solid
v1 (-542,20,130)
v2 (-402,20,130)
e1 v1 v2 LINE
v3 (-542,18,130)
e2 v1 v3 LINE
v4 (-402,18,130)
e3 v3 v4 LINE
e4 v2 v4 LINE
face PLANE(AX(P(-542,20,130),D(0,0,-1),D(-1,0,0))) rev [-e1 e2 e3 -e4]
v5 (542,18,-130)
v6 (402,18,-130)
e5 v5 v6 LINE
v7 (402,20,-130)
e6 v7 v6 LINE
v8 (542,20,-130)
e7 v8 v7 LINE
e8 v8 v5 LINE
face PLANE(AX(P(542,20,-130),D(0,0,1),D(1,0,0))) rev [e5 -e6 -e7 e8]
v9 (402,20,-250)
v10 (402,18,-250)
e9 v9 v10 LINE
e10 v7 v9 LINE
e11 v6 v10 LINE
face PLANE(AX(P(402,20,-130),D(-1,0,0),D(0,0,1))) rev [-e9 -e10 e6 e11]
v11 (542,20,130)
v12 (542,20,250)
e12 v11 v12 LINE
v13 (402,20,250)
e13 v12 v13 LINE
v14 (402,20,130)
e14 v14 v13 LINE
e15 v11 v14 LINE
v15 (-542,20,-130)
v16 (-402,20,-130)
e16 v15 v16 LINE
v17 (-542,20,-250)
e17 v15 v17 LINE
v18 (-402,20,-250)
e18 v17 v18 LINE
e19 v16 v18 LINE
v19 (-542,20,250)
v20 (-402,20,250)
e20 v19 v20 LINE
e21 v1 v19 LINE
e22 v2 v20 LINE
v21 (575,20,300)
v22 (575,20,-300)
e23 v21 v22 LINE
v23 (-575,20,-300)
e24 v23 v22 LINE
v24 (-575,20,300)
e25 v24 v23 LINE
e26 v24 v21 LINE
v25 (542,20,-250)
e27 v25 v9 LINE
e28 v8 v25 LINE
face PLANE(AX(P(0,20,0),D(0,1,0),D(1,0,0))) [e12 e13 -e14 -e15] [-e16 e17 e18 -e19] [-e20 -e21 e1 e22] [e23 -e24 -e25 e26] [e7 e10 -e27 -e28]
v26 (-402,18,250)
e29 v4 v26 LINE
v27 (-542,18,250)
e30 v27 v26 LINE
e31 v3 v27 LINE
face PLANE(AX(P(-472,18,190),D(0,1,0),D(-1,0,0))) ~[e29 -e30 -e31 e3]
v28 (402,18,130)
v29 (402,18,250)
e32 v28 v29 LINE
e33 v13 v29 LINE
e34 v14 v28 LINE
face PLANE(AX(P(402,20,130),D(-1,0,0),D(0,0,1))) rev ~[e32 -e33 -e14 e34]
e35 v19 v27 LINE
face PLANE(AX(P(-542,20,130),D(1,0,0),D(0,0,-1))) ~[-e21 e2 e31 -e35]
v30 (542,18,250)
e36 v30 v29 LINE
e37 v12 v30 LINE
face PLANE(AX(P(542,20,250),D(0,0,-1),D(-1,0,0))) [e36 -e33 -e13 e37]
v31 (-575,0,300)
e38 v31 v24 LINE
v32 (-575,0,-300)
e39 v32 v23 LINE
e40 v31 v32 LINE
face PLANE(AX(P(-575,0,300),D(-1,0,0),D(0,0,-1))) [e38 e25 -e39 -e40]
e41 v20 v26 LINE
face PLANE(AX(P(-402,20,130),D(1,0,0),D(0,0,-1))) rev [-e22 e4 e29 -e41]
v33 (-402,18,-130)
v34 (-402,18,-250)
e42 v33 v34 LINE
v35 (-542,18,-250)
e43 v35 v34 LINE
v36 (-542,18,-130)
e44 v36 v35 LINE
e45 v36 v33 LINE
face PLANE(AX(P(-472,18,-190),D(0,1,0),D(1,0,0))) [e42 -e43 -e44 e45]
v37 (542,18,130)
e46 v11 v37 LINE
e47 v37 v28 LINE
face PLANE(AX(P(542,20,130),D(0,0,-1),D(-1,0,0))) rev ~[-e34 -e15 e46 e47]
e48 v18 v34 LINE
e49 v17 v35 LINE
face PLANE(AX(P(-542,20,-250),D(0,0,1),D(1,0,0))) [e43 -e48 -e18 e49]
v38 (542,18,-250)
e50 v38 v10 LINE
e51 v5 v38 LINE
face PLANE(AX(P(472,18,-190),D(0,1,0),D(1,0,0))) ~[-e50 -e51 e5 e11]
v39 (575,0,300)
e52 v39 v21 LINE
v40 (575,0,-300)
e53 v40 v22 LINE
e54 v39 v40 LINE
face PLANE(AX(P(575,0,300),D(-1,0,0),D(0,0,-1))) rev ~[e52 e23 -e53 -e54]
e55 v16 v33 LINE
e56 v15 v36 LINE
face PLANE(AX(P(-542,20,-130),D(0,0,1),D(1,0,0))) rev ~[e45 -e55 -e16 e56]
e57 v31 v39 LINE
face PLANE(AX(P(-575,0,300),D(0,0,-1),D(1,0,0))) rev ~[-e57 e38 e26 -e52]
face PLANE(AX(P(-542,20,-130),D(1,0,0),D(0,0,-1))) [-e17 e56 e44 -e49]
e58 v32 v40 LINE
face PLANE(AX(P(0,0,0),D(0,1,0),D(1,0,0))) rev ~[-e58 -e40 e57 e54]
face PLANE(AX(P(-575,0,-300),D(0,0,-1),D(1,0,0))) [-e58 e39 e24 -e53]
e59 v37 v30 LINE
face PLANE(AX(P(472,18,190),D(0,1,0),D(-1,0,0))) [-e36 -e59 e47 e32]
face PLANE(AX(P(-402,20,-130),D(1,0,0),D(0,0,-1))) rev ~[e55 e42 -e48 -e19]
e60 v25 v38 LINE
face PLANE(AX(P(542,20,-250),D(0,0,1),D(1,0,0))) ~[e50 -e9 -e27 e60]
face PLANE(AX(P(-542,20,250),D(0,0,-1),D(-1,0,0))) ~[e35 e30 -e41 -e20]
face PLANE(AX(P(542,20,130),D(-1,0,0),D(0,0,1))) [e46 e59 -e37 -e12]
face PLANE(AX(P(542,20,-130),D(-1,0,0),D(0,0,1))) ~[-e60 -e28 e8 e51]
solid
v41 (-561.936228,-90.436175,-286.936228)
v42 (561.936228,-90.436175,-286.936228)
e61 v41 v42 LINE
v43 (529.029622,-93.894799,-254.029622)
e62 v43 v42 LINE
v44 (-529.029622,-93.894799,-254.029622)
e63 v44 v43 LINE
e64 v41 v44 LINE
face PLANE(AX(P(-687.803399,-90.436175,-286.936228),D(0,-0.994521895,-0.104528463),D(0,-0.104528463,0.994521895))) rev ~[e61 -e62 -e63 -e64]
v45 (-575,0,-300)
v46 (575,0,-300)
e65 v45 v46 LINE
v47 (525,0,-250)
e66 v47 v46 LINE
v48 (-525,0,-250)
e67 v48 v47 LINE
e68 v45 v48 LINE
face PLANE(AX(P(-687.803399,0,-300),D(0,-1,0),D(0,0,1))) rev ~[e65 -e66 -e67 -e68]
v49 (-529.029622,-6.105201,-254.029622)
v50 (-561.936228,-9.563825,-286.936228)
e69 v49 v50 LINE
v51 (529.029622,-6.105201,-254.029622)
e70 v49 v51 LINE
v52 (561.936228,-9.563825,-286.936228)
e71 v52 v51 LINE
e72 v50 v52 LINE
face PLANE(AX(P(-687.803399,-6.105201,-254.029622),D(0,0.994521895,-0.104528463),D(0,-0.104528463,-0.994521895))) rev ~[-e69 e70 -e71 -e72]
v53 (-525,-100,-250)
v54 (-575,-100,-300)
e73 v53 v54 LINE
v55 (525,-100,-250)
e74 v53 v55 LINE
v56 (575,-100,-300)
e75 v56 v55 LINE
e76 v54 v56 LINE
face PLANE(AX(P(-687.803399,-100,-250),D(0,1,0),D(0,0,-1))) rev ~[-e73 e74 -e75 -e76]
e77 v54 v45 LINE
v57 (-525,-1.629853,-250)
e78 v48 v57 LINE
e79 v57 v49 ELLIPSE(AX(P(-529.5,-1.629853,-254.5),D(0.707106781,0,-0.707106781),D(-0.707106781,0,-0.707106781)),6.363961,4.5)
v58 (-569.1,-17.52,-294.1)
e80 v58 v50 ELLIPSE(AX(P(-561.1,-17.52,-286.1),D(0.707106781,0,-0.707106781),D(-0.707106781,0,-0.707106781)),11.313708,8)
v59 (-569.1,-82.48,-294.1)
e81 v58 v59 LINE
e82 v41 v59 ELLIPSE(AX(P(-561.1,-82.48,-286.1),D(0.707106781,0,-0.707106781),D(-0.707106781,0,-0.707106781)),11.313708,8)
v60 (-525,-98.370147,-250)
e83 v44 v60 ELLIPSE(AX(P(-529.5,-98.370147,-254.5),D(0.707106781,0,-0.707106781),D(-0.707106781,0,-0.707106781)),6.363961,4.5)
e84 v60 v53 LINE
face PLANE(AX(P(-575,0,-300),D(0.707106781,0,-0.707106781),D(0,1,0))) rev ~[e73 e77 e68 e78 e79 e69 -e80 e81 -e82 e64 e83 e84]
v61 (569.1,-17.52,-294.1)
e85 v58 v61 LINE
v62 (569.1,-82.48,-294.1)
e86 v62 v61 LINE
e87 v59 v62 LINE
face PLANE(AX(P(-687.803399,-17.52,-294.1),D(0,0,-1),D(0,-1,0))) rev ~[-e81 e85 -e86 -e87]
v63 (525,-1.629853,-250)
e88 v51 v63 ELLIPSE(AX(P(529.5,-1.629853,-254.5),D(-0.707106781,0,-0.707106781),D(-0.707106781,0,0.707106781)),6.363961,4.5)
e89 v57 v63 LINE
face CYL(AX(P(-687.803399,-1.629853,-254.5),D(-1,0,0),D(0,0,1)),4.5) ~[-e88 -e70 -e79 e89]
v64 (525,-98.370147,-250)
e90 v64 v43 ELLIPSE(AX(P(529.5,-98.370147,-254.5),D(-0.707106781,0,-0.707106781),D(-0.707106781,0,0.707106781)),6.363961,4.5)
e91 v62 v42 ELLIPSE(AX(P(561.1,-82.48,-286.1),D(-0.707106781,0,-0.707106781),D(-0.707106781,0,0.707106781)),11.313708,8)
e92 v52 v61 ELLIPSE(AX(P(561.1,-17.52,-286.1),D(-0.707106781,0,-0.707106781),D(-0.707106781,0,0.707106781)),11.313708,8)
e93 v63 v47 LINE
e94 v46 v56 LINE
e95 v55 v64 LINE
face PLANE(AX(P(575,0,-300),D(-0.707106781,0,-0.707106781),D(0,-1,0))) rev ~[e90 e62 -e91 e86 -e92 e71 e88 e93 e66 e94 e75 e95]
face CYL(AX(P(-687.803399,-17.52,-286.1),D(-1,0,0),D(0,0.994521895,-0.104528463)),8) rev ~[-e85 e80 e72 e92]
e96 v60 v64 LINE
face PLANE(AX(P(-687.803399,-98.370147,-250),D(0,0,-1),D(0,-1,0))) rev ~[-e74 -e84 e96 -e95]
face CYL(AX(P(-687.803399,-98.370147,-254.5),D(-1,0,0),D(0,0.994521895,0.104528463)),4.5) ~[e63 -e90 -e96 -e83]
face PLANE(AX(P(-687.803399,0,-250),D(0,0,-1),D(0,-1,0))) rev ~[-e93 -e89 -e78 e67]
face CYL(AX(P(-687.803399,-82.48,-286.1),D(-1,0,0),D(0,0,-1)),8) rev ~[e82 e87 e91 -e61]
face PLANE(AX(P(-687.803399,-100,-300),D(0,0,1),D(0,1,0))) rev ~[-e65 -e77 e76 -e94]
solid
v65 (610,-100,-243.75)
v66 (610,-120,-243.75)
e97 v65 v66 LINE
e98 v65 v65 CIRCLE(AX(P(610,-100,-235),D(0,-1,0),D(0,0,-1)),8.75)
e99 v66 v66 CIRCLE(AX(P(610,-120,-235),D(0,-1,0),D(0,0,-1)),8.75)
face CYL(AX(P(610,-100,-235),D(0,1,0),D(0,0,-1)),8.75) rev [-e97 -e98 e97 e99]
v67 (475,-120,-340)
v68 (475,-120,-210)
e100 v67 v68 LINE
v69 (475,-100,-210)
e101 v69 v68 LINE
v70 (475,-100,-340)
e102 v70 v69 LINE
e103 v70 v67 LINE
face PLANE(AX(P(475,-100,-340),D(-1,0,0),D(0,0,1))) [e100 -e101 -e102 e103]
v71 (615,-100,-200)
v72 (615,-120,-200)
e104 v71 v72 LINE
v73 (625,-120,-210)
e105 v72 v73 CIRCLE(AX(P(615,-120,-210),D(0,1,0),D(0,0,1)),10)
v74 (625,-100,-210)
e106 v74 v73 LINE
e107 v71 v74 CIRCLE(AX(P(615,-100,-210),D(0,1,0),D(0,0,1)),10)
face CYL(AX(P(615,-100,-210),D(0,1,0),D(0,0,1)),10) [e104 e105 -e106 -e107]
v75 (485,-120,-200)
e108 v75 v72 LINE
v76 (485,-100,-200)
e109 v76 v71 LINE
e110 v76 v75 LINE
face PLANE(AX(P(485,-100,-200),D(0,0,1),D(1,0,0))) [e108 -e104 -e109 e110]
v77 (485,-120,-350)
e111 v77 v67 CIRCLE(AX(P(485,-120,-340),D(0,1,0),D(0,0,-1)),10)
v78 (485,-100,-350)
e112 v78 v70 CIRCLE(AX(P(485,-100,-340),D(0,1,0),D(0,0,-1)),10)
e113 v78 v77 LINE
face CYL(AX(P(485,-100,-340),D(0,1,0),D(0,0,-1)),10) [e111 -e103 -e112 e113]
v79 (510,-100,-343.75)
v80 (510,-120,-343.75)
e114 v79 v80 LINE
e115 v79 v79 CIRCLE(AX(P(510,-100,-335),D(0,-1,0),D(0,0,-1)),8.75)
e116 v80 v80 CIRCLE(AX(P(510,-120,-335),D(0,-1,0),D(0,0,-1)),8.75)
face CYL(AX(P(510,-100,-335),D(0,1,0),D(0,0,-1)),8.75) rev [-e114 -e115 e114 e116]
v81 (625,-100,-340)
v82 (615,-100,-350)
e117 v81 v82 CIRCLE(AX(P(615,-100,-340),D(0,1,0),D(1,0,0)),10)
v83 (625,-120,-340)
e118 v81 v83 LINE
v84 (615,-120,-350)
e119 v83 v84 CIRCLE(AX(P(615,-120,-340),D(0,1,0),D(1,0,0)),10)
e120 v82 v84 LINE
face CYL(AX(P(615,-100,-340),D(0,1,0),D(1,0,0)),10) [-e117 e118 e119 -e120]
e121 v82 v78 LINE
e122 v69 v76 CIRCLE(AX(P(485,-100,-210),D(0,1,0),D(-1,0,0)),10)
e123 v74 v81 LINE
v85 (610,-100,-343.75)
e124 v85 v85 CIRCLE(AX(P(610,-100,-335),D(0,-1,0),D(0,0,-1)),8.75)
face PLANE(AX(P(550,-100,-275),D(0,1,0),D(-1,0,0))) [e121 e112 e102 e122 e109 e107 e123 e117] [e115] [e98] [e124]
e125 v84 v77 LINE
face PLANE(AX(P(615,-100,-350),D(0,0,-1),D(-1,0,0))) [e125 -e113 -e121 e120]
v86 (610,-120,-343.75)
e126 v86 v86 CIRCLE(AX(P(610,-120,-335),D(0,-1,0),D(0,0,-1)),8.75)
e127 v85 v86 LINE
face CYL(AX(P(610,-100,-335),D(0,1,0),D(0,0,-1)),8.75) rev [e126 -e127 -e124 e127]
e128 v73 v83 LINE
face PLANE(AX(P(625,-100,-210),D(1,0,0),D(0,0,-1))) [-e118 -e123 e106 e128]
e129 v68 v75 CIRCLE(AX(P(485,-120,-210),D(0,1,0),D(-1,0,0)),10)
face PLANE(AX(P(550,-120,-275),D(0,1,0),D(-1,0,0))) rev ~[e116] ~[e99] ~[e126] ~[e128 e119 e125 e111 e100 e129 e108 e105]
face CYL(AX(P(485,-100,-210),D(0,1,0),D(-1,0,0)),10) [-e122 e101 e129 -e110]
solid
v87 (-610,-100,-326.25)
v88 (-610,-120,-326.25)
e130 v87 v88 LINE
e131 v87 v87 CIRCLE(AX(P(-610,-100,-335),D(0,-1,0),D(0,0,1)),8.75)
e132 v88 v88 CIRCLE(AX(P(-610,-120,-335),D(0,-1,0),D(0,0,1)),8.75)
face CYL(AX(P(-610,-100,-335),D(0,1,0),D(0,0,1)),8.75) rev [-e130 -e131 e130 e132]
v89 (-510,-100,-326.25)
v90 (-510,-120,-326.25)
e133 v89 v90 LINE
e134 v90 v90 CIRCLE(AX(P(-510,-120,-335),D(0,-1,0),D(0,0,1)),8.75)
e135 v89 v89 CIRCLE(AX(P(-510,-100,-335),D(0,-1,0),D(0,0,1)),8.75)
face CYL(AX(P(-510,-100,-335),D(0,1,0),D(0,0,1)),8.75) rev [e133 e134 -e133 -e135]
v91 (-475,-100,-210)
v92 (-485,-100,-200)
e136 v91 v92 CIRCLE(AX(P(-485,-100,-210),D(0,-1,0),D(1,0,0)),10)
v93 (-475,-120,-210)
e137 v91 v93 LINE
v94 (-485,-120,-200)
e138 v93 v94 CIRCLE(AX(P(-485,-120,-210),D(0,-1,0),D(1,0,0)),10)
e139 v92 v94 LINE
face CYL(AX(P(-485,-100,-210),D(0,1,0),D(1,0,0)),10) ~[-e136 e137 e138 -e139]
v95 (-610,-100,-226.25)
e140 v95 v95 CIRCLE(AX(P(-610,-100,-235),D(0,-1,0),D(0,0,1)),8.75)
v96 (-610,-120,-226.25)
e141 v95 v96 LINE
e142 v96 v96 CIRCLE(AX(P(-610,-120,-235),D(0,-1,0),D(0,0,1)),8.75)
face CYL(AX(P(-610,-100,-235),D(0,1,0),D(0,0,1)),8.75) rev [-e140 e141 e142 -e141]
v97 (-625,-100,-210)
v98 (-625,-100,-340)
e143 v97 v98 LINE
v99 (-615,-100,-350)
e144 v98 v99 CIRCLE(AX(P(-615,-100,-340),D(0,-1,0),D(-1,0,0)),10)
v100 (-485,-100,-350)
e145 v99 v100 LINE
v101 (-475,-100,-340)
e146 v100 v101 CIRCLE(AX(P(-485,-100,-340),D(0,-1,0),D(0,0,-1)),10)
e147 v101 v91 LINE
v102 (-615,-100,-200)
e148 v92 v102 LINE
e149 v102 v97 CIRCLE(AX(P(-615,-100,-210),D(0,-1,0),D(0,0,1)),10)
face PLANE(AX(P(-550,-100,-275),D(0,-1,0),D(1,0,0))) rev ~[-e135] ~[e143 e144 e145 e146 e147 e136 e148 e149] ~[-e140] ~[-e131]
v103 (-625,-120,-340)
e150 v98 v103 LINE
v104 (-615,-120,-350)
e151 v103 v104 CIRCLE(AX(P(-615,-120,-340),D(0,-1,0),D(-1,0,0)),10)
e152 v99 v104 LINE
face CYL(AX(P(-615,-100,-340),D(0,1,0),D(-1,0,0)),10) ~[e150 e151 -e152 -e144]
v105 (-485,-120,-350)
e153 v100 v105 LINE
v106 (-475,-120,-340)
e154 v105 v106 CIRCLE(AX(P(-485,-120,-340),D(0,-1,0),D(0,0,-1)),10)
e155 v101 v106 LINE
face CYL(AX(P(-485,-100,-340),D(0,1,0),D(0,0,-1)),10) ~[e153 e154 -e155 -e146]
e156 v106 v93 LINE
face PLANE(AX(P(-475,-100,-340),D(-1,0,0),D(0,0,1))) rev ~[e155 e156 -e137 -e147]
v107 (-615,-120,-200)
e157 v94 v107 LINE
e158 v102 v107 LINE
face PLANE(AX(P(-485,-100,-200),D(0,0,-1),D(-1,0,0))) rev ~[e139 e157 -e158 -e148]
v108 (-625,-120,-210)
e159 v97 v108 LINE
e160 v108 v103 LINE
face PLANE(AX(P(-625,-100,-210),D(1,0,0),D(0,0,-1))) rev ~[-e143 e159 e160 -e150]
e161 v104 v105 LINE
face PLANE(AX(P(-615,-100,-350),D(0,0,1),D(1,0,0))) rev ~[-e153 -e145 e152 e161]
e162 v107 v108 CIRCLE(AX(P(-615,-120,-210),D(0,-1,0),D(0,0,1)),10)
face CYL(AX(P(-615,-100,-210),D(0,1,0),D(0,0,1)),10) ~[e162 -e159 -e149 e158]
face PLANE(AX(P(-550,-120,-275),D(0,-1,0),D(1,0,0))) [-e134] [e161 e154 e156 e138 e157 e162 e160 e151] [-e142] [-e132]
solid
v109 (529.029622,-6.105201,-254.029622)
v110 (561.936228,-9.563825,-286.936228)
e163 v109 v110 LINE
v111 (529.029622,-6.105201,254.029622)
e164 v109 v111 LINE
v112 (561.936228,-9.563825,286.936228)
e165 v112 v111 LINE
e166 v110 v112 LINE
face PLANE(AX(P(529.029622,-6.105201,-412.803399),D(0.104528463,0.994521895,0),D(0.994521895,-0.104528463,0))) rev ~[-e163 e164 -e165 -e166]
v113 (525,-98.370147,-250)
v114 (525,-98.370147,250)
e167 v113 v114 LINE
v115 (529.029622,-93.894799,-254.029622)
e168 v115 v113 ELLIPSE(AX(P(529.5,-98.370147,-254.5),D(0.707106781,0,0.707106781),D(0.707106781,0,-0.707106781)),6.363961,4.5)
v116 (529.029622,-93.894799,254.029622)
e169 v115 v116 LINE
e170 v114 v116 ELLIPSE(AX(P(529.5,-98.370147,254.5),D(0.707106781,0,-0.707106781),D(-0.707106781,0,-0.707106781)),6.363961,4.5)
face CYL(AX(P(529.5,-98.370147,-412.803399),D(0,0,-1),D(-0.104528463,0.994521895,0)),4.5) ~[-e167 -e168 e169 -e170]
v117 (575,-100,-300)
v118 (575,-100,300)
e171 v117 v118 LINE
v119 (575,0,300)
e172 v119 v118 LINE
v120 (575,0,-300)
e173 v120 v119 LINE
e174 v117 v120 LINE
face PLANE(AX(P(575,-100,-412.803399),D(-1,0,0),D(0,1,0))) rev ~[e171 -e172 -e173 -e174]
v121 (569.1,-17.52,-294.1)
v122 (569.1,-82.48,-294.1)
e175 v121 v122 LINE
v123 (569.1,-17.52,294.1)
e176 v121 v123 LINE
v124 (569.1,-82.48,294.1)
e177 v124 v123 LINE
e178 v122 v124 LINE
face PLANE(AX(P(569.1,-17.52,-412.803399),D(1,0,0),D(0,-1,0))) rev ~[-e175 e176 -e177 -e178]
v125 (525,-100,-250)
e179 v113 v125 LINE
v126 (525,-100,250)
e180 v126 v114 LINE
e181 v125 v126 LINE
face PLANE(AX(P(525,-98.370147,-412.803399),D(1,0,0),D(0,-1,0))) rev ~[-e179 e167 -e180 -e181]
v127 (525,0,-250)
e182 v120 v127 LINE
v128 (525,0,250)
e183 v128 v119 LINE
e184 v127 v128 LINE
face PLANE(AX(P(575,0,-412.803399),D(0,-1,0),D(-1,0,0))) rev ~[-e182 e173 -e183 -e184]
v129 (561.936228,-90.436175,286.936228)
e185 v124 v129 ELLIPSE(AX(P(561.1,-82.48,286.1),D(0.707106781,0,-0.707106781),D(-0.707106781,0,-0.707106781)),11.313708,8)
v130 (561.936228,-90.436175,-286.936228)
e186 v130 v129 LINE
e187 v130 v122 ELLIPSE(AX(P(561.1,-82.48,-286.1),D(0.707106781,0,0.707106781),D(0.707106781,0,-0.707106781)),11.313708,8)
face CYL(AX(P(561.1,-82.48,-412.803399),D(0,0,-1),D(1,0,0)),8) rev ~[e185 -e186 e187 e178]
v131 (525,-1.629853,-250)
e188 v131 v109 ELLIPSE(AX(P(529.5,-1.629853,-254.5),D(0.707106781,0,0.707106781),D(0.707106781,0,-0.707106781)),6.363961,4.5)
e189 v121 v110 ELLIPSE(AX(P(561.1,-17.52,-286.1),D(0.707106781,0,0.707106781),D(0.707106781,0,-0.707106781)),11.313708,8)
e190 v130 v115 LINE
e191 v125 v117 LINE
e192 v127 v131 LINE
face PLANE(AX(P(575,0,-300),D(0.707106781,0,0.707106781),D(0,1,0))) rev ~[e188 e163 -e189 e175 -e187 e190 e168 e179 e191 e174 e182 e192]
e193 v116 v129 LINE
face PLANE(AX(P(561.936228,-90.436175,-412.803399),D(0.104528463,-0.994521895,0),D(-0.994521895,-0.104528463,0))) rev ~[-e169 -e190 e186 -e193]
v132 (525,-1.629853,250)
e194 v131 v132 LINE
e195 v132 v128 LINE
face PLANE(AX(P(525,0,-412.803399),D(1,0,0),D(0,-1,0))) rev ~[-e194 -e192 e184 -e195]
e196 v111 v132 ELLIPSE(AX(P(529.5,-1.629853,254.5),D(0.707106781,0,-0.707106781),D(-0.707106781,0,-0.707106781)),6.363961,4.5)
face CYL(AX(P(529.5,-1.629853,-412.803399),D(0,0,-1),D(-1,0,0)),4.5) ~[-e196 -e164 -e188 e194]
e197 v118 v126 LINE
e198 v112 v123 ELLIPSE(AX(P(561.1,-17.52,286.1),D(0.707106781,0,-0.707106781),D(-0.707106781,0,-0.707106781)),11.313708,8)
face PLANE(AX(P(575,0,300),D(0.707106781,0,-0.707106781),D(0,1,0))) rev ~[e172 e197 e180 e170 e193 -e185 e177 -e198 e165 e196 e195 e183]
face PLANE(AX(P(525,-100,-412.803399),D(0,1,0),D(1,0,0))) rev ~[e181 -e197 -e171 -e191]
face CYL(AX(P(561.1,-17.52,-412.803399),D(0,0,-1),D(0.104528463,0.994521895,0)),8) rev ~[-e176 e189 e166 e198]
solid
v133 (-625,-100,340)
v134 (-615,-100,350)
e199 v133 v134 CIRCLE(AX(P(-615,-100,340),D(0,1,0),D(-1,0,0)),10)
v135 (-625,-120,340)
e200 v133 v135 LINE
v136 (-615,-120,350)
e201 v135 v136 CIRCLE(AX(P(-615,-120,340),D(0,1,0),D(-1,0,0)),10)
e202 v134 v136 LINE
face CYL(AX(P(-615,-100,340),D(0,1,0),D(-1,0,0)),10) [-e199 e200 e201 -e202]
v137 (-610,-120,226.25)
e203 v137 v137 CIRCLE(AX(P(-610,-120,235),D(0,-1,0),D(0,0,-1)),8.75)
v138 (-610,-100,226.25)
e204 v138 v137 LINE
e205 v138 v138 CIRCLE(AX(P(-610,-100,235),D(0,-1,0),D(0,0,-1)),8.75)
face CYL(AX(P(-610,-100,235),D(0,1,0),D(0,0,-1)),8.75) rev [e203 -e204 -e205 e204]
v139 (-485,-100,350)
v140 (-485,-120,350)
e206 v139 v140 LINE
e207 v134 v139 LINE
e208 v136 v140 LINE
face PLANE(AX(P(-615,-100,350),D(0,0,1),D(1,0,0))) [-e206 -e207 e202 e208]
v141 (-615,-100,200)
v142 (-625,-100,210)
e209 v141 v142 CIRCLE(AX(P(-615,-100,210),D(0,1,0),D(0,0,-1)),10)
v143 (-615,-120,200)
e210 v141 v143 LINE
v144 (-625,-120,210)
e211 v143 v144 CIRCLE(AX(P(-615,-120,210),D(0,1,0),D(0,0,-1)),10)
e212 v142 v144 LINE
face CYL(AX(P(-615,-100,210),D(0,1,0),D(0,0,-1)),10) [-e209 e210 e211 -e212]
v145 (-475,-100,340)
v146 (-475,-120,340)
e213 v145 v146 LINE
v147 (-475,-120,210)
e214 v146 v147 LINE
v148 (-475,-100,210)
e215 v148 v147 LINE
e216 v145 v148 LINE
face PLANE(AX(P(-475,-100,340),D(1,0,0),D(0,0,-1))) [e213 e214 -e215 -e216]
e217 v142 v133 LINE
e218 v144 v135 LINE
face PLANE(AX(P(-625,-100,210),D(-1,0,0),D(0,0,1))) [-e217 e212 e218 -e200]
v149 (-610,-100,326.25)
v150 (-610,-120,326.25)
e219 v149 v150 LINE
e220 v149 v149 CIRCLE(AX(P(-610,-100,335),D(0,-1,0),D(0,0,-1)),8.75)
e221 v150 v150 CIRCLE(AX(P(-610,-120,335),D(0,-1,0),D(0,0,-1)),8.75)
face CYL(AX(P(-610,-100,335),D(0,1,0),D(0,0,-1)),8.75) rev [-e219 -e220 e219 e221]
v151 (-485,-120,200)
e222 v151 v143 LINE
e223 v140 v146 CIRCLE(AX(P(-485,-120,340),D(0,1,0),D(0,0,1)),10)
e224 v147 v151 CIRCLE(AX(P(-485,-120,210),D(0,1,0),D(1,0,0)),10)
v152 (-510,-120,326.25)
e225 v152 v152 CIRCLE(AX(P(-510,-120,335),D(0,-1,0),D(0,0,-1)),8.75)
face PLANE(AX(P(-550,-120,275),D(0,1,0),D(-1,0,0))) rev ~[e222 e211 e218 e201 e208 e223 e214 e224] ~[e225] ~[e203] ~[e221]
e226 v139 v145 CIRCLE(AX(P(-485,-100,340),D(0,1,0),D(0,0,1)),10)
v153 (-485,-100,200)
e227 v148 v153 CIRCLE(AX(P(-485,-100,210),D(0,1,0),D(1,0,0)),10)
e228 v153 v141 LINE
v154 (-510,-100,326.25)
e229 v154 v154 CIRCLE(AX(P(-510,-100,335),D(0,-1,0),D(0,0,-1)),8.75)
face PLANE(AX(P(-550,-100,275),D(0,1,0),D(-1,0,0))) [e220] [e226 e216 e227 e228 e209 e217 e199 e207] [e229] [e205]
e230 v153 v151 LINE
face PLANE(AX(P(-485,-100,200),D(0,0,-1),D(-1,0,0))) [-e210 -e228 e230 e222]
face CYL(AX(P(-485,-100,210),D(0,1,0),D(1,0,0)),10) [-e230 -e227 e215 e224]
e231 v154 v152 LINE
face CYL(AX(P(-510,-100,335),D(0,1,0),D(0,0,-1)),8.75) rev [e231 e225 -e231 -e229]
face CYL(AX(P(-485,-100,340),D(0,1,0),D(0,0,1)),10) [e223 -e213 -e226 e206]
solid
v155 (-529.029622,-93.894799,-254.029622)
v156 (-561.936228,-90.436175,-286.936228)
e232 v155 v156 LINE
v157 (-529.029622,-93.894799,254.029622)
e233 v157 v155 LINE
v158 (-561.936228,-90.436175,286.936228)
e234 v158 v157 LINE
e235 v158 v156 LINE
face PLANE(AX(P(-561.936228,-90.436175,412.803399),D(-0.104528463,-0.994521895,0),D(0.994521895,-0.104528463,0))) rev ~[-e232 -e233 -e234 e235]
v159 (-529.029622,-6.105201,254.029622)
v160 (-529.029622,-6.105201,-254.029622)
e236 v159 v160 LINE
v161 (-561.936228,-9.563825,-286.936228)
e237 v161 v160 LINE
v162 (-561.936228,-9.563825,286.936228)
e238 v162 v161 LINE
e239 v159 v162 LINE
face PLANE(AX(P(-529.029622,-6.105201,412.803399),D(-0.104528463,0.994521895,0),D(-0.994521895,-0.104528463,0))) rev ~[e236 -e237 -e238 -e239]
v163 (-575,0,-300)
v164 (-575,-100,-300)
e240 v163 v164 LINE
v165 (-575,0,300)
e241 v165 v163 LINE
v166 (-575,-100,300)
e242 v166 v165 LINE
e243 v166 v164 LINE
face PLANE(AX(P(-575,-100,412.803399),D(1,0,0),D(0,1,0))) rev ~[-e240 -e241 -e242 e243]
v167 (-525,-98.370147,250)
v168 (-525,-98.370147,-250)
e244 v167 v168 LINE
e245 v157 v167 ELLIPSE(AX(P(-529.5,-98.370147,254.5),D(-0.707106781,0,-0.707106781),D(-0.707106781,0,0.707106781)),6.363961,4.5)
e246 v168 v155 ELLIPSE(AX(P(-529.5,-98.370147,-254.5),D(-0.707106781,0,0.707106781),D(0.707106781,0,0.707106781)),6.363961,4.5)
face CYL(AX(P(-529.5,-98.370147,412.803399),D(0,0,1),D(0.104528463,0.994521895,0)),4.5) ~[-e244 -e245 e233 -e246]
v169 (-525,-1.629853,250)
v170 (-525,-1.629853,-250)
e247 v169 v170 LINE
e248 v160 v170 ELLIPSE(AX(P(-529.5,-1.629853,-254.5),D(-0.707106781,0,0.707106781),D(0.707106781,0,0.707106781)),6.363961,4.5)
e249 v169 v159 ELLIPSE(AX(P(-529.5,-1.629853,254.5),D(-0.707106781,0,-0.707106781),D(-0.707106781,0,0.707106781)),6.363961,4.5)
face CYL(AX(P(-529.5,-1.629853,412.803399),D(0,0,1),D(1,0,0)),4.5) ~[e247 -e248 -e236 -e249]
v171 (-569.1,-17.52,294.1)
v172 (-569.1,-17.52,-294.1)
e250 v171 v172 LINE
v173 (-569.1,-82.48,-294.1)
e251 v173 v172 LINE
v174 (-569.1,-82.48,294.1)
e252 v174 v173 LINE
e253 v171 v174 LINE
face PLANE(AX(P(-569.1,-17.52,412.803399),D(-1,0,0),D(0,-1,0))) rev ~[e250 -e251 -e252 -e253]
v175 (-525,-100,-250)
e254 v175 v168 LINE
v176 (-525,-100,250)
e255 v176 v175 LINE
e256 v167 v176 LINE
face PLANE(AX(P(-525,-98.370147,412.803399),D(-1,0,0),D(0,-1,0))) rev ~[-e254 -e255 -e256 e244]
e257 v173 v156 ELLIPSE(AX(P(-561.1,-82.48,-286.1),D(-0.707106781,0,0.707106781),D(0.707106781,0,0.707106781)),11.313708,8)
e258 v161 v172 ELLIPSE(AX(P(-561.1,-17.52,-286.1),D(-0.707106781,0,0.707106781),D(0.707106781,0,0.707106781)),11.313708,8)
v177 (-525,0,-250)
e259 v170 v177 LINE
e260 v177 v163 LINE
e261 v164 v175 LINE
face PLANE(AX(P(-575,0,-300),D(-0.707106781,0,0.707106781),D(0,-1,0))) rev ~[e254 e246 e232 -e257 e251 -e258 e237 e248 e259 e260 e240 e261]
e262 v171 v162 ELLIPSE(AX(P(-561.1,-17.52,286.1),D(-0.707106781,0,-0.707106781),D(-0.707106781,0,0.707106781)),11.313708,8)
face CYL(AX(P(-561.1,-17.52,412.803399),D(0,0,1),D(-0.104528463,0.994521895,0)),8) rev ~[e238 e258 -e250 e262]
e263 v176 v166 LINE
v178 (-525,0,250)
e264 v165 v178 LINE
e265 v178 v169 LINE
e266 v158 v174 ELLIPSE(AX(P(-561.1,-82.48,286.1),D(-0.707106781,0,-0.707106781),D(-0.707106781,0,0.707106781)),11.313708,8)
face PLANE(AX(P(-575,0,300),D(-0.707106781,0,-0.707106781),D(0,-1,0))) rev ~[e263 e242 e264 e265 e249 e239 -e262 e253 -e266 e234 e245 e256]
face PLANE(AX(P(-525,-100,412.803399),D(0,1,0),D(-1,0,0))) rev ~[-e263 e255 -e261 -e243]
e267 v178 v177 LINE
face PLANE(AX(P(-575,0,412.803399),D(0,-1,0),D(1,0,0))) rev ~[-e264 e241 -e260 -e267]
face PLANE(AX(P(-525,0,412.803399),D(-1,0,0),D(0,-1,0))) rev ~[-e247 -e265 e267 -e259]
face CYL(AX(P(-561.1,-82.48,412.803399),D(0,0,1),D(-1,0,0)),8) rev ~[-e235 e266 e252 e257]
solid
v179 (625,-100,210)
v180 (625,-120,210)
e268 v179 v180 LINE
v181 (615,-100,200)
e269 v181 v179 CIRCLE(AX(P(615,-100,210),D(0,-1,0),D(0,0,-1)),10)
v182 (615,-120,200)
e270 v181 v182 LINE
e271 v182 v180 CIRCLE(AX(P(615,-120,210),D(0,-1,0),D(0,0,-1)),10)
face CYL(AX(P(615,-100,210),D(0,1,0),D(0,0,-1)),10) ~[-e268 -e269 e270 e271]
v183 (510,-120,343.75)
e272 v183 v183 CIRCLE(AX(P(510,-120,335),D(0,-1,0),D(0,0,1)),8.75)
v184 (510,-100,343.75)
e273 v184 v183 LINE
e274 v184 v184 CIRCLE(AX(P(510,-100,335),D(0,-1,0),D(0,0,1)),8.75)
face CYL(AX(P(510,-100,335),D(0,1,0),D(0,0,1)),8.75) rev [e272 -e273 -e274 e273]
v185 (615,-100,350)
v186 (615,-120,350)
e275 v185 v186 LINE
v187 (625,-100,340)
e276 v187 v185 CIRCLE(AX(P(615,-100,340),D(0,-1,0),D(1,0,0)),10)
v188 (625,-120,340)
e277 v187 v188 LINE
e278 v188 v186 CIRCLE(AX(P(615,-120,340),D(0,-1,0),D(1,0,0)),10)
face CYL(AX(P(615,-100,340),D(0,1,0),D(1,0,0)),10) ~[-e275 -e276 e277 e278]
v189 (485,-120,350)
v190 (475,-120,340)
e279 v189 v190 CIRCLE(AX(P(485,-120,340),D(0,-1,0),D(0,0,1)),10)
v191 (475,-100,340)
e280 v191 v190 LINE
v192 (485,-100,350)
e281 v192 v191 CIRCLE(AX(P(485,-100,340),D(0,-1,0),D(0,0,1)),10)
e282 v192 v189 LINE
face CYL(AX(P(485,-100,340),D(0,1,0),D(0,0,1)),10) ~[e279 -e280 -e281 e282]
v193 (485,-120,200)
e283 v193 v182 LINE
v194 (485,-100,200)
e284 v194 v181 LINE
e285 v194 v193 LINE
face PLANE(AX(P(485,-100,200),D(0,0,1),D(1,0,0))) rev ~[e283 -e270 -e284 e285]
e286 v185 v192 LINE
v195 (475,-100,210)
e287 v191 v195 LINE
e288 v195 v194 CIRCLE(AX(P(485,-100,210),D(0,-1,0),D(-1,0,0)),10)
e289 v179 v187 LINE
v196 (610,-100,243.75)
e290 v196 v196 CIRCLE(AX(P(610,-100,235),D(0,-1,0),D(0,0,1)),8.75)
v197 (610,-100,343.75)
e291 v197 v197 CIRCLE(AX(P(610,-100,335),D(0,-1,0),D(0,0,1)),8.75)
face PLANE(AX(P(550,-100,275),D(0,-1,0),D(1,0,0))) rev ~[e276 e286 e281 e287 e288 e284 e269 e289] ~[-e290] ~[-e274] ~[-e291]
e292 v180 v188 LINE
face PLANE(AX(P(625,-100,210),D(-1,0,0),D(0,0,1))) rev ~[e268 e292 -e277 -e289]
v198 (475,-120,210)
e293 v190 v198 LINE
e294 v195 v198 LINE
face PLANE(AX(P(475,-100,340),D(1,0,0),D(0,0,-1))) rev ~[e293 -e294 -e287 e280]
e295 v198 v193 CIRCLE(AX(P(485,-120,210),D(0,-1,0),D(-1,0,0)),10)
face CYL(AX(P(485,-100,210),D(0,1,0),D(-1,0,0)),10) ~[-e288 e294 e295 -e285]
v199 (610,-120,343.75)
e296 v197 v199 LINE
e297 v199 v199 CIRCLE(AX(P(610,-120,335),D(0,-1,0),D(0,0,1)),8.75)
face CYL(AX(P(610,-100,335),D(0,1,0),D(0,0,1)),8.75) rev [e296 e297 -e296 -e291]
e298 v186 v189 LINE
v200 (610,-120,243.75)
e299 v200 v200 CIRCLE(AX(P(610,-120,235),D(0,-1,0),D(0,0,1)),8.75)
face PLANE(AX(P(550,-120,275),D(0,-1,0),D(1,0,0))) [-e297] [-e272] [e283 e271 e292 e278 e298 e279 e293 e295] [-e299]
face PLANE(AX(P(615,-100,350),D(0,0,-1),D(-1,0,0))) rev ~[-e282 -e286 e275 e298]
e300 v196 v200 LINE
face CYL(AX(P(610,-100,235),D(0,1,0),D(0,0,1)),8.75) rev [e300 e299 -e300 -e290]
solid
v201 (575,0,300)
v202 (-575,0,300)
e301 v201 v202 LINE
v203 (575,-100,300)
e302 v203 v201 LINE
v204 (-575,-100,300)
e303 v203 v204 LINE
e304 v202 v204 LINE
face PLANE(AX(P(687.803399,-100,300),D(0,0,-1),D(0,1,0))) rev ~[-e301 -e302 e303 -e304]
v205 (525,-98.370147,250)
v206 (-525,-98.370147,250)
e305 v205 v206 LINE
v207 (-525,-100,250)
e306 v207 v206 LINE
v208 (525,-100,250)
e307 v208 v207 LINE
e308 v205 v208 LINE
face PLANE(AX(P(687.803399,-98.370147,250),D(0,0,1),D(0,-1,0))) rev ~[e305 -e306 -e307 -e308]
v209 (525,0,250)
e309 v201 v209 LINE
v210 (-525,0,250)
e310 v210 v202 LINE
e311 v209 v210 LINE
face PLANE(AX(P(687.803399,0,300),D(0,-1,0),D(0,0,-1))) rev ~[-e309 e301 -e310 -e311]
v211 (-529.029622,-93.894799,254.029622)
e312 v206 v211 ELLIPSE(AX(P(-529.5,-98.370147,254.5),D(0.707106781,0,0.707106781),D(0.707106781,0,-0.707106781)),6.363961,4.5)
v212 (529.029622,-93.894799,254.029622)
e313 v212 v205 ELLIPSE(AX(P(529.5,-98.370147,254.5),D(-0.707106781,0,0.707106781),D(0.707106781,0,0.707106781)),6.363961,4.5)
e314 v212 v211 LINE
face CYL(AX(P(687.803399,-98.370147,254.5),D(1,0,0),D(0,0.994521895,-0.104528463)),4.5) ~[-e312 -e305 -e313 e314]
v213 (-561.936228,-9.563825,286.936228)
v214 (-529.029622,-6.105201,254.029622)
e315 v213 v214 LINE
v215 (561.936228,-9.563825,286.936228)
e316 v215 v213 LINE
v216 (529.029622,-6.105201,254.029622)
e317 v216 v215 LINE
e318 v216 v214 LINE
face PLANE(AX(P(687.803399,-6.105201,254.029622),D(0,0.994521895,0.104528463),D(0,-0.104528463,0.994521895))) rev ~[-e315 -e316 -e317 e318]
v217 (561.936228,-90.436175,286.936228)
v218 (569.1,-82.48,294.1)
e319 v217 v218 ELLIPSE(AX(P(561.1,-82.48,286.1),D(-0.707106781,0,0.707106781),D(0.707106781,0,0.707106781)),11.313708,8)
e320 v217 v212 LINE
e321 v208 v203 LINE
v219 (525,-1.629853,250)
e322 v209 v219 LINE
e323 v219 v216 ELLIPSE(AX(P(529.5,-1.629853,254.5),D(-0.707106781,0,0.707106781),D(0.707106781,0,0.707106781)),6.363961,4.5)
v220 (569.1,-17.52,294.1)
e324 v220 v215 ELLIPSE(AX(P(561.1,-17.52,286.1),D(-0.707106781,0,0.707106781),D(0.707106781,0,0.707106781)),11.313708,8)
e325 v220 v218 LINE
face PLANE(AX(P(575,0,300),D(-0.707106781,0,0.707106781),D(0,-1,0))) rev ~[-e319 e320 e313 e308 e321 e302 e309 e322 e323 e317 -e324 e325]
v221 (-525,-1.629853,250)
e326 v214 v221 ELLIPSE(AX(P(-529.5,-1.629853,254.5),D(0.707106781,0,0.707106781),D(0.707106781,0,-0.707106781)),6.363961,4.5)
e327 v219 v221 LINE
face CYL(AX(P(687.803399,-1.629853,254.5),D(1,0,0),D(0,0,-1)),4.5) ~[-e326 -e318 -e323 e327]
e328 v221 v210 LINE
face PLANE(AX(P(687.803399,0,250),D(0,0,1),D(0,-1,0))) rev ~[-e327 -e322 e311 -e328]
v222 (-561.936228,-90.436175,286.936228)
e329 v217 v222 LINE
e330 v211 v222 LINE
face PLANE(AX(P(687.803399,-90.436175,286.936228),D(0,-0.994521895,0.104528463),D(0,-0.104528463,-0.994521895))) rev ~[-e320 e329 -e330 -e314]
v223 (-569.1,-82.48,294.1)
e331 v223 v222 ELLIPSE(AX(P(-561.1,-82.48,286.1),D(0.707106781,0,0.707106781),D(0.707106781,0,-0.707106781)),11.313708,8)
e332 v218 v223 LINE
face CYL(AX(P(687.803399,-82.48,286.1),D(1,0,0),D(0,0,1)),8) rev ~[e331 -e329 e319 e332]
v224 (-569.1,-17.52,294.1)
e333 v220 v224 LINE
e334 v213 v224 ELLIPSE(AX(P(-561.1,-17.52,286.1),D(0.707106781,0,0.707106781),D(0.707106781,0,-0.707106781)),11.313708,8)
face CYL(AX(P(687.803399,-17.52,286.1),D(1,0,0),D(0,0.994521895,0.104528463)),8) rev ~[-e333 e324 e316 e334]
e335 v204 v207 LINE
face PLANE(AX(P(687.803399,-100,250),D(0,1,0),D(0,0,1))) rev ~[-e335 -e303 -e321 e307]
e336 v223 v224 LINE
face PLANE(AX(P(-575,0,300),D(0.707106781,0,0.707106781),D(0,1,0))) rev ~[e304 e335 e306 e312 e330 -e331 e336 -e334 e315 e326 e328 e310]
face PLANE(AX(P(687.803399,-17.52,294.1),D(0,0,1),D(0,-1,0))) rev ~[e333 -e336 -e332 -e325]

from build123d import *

# Parameters (mm, degrees)
C_CHANNEL_100_X_10_2_DEPTH      = 712.803398875
C_CHANNEL_100_X_10_2_DEPTH_BACK = 112.803398875
C_CHANNEL_100_X_10_2_2_DEPTH    = 1375.60679775
C_CHANNEL_100_X_10_2_3_DEPTH    = 825.60679775
C_CHANNEL_100_X_10_2_4_DEPTH    = 1375.60679775
SKETCH13_W                      = 1150
SKETCH13_H                      = 600
BOSS_EXTRUDE1_DEPTH             = 20
SKETCH14_R                      = 8.75
BOSS_EXTRUDE2_DEPTH             = 20
BOSS_EXTRUDE2_2_DEPTH           = 20
BOSS_EXTRUDE2_3_DEPTH           = 20
BOSS_EXTRUDE2_4_DEPTH           = 20
SKETCH15_W                      = 140
SKETCH15_H                      = 120
CUT_EXTRUDE1_DEPTH              = 2
MIRROR2_COPY_1_SKETCH_W         = 140
MIRROR2_COPY_1_SKETCH_H         = 120
MIRROR2_COPY_1_DEPTH            = 2


with BuildPart() as part:
    # Sketch12 → C channel 100 X 10(2) (new, two sides: drawn at the far end of the back side and taken through both)
    with BuildSketch(Plane(origin=(-575, 0, 300), x_dir=(1, 0, 0), z_dir=(0, 0, -1)).offset(-C_CHANNEL_100_X_10_2_DEPTH_BACK)):
        with BuildLine():
            Line((50, 100), (0, 100))
            Line((0, 100), (0, 0))
            Line((0, 0), (50, 0))
            Line((50, 0), (50, 1.629852671))
            ThreePointArc((50, 1.629852671), (48.844151715, 4.6409404), (45.970378085, 6.1052012))
            Line((45.970378085, 6.1052012), (13.063772294, 9.563824837))
            ThreePointArc((13.063772294, 9.563824837), (7.954841396, 12.166955149), (5.9, 17.52))
            Line((5.9, 17.52), (5.9, 82.48))
            ThreePointArc((5.9, 82.48), (7.954841396, 87.833044851), (13.063772294, 90.436175163))
            Line((13.063772294, 90.436175163), (45.970378085, 93.8947988))
            ThreePointArc((45.970378085, 93.8947988), (48.844151715, 95.3590596), (50, 98.370147329))
            Line((50, 98.370147329), (50, 100))
        make_face()
    extrude(amount=C_CHANNEL_100_X_10_2_DEPTH + C_CHANNEL_100_X_10_2_DEPTH_BACK)

    # C channel 100 X 10(2) mitre 1
    split(bisect_by=Plane(origin=(-575, 0, 300), x_dir=(0, -1, 0), z_dir=(-0.707106781, 0, -0.707106781)), keep=Keep.TOP)

    # C channel 100 X 10(2) mitre 2
    split(bisect_by=Plane(origin=(-575, 0, -300), x_dir=(0, -1, 0), z_dir=(-0.707106781, 0, 0.707106781)), keep=Keep.TOP)


with BuildPart() as body_2:
    # Sketch12 on segment 2 (carried to segment 2) → C channel 100 X 10_2 2 (new body)
    with BuildSketch(Plane(origin=(-687.803398875, 0, -300), x_dir=(0, 0, 1), z_dir=(1, 0, 0))):
        with BuildLine():
            Line((50, 100), (0, 100))
            Line((0, 100), (0, 0))
            Line((0, 0), (50, 0))
            Line((50, 0), (50, 1.629852671))
            ThreePointArc((50, 1.629852671), (48.844151715, 4.6409404), (45.970378085, 6.1052012))
            Line((45.970378085, 6.1052012), (13.063772294, 9.563824837))
            ThreePointArc((13.063772294, 9.563824837), (7.954841396, 12.166955149), (5.9, 17.52))
            Line((5.9, 17.52), (5.9, 82.48))
            ThreePointArc((5.9, 82.48), (7.954841396, 87.833044851), (13.063772294, 90.436175163))
            Line((13.063772294, 90.436175163), (45.970378085, 93.8947988))
            ThreePointArc((45.970378085, 93.8947988), (48.844151715, 95.3590596), (50, 98.370147329))
            Line((50, 98.370147329), (50, 100))
        make_face()
    extrude(amount=C_CHANNEL_100_X_10_2_2_DEPTH)

    # C channel 100 X 10_2 2 mitre 1
    split(bisect_by=Plane(origin=(-575, 0, -300), x_dir=(0, 1, 0), z_dir=(0.707106781, 0, -0.707106781)), keep=Keep.TOP)

    # C channel 100 X 10_2 2 mitre 2
    split(bisect_by=Plane(origin=(575, 0, -300), x_dir=(0, -1, 0), z_dir=(-0.707106781, 0, -0.707106781)), keep=Keep.TOP)


with BuildPart() as body_3:
    # Sketch12 on segment 3 (carried to segment 3) → C channel 100 X 10_2 3 (new body)
    with BuildSketch(Plane(origin=(575, 0, -412.803398875), x_dir=(-1, 0, 0), z_dir=(0, 0, 1))):
        with BuildLine():
            Line((50, 100), (0, 100))
            Line((0, 100), (0, 0))
            Line((0, 0), (50, 0))
            Line((50, 0), (50, 1.629852671))
            ThreePointArc((50, 1.629852671), (48.844151715, 4.6409404), (45.970378085, 6.1052012))
            Line((45.970378085, 6.1052012), (13.063772294, 9.563824837))
            ThreePointArc((13.063772294, 9.563824837), (7.954841396, 12.166955149), (5.9, 17.52))
            Line((5.9, 17.52), (5.9, 82.48))
            ThreePointArc((5.9, 82.48), (7.954841396, 87.833044851), (13.063772294, 90.436175163))
            Line((13.063772294, 90.436175163), (45.970378085, 93.8947988))
            ThreePointArc((45.970378085, 93.8947988), (48.844151715, 95.3590596), (50, 98.370147329))
            Line((50, 98.370147329), (50, 100))
        make_face()
    extrude(amount=C_CHANNEL_100_X_10_2_3_DEPTH)

    # C channel 100 X 10_2 3 mitre 1
    split(bisect_by=Plane(origin=(575, 0, 300), x_dir=(0, 1, 0), z_dir=(0.707106781, 0, -0.707106781)), keep=Keep.TOP)

    # C channel 100 X 10_2 3 mitre 2
    split(bisect_by=Plane(origin=(575, 0, -300), x_dir=(0, 1, 0), z_dir=(0.707106781, 0, 0.707106781)), keep=Keep.TOP)


with BuildPart() as body_4:
    # Sketch12 on segment 4 (carried to segment 4) → C channel 100 X 10_2 4 (new body)
    with BuildSketch(Plane(origin=(687.803398875, 0, 300), x_dir=(0, 0, -1), z_dir=(-1, 0, 0))):
        with BuildLine():
            Line((50, 100), (0, 100))
            Line((0, 100), (0, 0))
            Line((0, 0), (50, 0))
            Line((50, 0), (50, 1.629852671))
            ThreePointArc((50, 1.629852671), (48.844151715, 4.6409404), (45.970378085, 6.1052012))
            Line((45.970378085, 6.1052012), (13.063772294, 9.563824837))
            ThreePointArc((13.063772294, 9.563824837), (7.954841396, 12.166955149), (5.9, 17.52))
            Line((5.9, 17.52), (5.9, 82.48))
            ThreePointArc((5.9, 82.48), (7.954841396, 87.833044851), (13.063772294, 90.436175163))
            Line((13.063772294, 90.436175163), (45.970378085, 93.8947988))
            ThreePointArc((45.970378085, 93.8947988), (48.844151715, 95.3590596), (50, 98.370147329))
            Line((50, 98.370147329), (50, 100))
        make_face()
    extrude(amount=C_CHANNEL_100_X_10_2_4_DEPTH)

    # C channel 100 X 10_2 4 mitre 1
    split(bisect_by=Plane(origin=(-575, 0, 300), x_dir=(0, 1, 0), z_dir=(0.707106781, 0, 0.707106781)), keep=Keep.TOP)

    # C channel 100 X 10_2 4 mitre 2
    split(bisect_by=Plane(origin=(575, 0, 300), x_dir=(0, -1, 0), z_dir=(-0.707106781, 0, 0.707106781)), keep=Keep.TOP)


with BuildPart() as body_5:
    # Sketch13 → Boss-Extrude1 (new body)
    with BuildSketch(Plane(origin=(0, 0, 0), x_dir=(1, 0, 0), z_dir=(0, 1, 0))):
        Rectangle(SKETCH13_W, SKETCH13_H)
    extrude(amount=BOSS_EXTRUDE1_DEPTH)

    # Sketch15 → Cut-Extrude1 (cut)
    with BuildSketch(Plane(origin=(0, 20, 0), x_dir=(1, 0, 0), z_dir=(0, 1, 0))):
        with Locations((-472, 190)):
            Rectangle(SKETCH15_W, SKETCH15_H)
    cut_extrude1 = extrude(amount=-CUT_EXTRUDE1_DEPTH, mode=Mode.SUBTRACT)

    # Mirror1: Cut-Extrude1 across plane
    add(cut_extrude1.mirror(Plane(origin=(0, 0, 0), x_dir=(0, 0, 1), z_dir=(1, 0, 0))), mode=Mode.SUBTRACT)

    # Mirror2: Cut-Extrude1 across plane
    add(cut_extrude1.mirror(Plane.XY), mode=Mode.SUBTRACT)

    # Mirror2 copy 1 sketch → Mirror2 copy 1 (cut)
    with BuildSketch(Plane(origin=(0, 20, 0), x_dir=(-1, 0, 0), z_dir=(0, 1, 0))):
        with Locations((-472, 190)):
            Rectangle(MIRROR2_COPY_1_SKETCH_W, MIRROR2_COPY_1_SKETCH_H)
    extrude(amount=-MIRROR2_COPY_1_DEPTH, mode=Mode.SUBTRACT)


with BuildPart() as body_6:
    # Sketch14 → Boss-Extrude2 (new body)
    with BuildSketch(Plane.XZ.offset(100)):
        with BuildLine():
            Line((-615, 350), (-485, 350))
            ThreePointArc((-485, 350), (-477.928932188, 347.071067812), (-475, 340))
            Line((-475, 340), (-475, 210))
            ThreePointArc((-475, 210), (-477.928932188, 202.928932188), (-485, 200))
            Line((-485, 200), (-615, 200))
            ThreePointArc((-615, 200), (-622.071067812, 202.928932188), (-625, 210))
            Line((-625, 210), (-625, 340))
            ThreePointArc((-625, 340), (-622.071067812, 347.071067812), (-615, 350))
        make_face()
        with Locations(Location((-510, 335, 0), (0, 0, 270))):
            Circle(SKETCH14_R, mode=Mode.SUBTRACT)
        with Locations(Location((-610, 335, 0), (0, 0, 270))):
            Circle(SKETCH14_R, mode=Mode.SUBTRACT)
        with Locations(Location((-610, 235, 0), (0, 0, 270))):
            Circle(SKETCH14_R, mode=Mode.SUBTRACT)
    extrude(amount=BOSS_EXTRUDE2_DEPTH)


with BuildPart() as body_7:
    # Sketch14 → Boss-Extrude2 2 (new body)
    with BuildSketch(Plane.XZ.offset(100)):
        with BuildLine():
            Line((475, 340), (475, 210))
            ThreePointArc((475, 210), (477.928932188, 202.928932188), (485, 200))
            Line((485, 200), (615, 200))
            ThreePointArc((615, 200), (622.071067812, 202.928932188), (625, 210))
            Line((625, 210), (625, 340))
            ThreePointArc((625, 340), (622.071067812, 347.071067812), (615, 350))
            Line((615, 350), (485, 350))
            ThreePointArc((485, 350), (477.928932188, 347.071067812), (475, 340))
        make_face()
        with Locations(Location((610, 235, 0), (0, 0, 90))):
            Circle(SKETCH14_R, mode=Mode.SUBTRACT)
        with Locations(Location((610, 335, 0), (0, 0, 90))):
            Circle(SKETCH14_R, mode=Mode.SUBTRACT)
        with Locations(Location((510, 335, 0), (0, 0, 90))):
            Circle(SKETCH14_R, mode=Mode.SUBTRACT)
    extrude(amount=BOSS_EXTRUDE2_2_DEPTH)


with BuildPart() as body_8:
    # Sketch14 → Boss-Extrude2 3 (new body)
    with BuildSketch(Plane.XZ.offset(100)):
        with BuildLine():
            Line((615, -350), (485, -350))
            ThreePointArc((485, -350), (477.928932188, -347.071067812), (475, -340))
            Line((475, -340), (475, -210))
            ThreePointArc((475, -210), (477.928932188, -202.928932188), (485, -200))
            Line((485, -200), (615, -200))
            ThreePointArc((615, -200), (622.071067812, -202.928932188), (625, -210))
            Line((625, -210), (625, -340))
            ThreePointArc((625, -340), (622.071067812, -347.071067812), (615, -350))
        make_face()
        with Locations(Location((510, -335, 0), (0, 0, 270))):
            Circle(SKETCH14_R, mode=Mode.SUBTRACT)
        with Locations(Location((610, -335, 0), (0, 0, 270))):
            Circle(SKETCH14_R, mode=Mode.SUBTRACT)
        with Locations(Location((610, -235, 0), (0, 0, 270))):
            Circle(SKETCH14_R, mode=Mode.SUBTRACT)
    extrude(amount=BOSS_EXTRUDE2_3_DEPTH)


with BuildPart() as body_9:
    # Sketch14 → Boss-Extrude2 4 (new body)
    with BuildSketch(Plane.XZ.offset(100)):
        with BuildLine():
            Line((-475, -340), (-475, -210))
            ThreePointArc((-475, -210), (-477.928932188, -202.928932188), (-485, -200))
            Line((-485, -200), (-615, -200))
            ThreePointArc((-615, -200), (-622.071067812, -202.928932188), (-625, -210))
            Line((-625, -210), (-625, -340))
            ThreePointArc((-625, -340), (-622.071067812, -347.071067812), (-615, -350))
            Line((-615, -350), (-485, -350))
            ThreePointArc((-485, -350), (-477.928932188, -347.071067812), (-475, -340))
        make_face()
        with Locations(Location((-610, -235, 0), (0, 0, 90))):
            Circle(SKETCH14_R, mode=Mode.SUBTRACT)
        with Locations(Location((-610, -335, 0), (0, 0, 90))):
            Circle(SKETCH14_R, mode=Mode.SUBTRACT)
        with Locations(Location((-510, -335, 0), (0, 0, 90))):
            Circle(SKETCH14_R, mode=Mode.SUBTRACT)
    extrude(amount=BOSS_EXTRUDE2_4_DEPTH)


solid = Compound([part.part, body_2.part, body_3.part, body_4.part, body_5.part, body_6.part, body_7.part, body_8.part, body_9.part])
